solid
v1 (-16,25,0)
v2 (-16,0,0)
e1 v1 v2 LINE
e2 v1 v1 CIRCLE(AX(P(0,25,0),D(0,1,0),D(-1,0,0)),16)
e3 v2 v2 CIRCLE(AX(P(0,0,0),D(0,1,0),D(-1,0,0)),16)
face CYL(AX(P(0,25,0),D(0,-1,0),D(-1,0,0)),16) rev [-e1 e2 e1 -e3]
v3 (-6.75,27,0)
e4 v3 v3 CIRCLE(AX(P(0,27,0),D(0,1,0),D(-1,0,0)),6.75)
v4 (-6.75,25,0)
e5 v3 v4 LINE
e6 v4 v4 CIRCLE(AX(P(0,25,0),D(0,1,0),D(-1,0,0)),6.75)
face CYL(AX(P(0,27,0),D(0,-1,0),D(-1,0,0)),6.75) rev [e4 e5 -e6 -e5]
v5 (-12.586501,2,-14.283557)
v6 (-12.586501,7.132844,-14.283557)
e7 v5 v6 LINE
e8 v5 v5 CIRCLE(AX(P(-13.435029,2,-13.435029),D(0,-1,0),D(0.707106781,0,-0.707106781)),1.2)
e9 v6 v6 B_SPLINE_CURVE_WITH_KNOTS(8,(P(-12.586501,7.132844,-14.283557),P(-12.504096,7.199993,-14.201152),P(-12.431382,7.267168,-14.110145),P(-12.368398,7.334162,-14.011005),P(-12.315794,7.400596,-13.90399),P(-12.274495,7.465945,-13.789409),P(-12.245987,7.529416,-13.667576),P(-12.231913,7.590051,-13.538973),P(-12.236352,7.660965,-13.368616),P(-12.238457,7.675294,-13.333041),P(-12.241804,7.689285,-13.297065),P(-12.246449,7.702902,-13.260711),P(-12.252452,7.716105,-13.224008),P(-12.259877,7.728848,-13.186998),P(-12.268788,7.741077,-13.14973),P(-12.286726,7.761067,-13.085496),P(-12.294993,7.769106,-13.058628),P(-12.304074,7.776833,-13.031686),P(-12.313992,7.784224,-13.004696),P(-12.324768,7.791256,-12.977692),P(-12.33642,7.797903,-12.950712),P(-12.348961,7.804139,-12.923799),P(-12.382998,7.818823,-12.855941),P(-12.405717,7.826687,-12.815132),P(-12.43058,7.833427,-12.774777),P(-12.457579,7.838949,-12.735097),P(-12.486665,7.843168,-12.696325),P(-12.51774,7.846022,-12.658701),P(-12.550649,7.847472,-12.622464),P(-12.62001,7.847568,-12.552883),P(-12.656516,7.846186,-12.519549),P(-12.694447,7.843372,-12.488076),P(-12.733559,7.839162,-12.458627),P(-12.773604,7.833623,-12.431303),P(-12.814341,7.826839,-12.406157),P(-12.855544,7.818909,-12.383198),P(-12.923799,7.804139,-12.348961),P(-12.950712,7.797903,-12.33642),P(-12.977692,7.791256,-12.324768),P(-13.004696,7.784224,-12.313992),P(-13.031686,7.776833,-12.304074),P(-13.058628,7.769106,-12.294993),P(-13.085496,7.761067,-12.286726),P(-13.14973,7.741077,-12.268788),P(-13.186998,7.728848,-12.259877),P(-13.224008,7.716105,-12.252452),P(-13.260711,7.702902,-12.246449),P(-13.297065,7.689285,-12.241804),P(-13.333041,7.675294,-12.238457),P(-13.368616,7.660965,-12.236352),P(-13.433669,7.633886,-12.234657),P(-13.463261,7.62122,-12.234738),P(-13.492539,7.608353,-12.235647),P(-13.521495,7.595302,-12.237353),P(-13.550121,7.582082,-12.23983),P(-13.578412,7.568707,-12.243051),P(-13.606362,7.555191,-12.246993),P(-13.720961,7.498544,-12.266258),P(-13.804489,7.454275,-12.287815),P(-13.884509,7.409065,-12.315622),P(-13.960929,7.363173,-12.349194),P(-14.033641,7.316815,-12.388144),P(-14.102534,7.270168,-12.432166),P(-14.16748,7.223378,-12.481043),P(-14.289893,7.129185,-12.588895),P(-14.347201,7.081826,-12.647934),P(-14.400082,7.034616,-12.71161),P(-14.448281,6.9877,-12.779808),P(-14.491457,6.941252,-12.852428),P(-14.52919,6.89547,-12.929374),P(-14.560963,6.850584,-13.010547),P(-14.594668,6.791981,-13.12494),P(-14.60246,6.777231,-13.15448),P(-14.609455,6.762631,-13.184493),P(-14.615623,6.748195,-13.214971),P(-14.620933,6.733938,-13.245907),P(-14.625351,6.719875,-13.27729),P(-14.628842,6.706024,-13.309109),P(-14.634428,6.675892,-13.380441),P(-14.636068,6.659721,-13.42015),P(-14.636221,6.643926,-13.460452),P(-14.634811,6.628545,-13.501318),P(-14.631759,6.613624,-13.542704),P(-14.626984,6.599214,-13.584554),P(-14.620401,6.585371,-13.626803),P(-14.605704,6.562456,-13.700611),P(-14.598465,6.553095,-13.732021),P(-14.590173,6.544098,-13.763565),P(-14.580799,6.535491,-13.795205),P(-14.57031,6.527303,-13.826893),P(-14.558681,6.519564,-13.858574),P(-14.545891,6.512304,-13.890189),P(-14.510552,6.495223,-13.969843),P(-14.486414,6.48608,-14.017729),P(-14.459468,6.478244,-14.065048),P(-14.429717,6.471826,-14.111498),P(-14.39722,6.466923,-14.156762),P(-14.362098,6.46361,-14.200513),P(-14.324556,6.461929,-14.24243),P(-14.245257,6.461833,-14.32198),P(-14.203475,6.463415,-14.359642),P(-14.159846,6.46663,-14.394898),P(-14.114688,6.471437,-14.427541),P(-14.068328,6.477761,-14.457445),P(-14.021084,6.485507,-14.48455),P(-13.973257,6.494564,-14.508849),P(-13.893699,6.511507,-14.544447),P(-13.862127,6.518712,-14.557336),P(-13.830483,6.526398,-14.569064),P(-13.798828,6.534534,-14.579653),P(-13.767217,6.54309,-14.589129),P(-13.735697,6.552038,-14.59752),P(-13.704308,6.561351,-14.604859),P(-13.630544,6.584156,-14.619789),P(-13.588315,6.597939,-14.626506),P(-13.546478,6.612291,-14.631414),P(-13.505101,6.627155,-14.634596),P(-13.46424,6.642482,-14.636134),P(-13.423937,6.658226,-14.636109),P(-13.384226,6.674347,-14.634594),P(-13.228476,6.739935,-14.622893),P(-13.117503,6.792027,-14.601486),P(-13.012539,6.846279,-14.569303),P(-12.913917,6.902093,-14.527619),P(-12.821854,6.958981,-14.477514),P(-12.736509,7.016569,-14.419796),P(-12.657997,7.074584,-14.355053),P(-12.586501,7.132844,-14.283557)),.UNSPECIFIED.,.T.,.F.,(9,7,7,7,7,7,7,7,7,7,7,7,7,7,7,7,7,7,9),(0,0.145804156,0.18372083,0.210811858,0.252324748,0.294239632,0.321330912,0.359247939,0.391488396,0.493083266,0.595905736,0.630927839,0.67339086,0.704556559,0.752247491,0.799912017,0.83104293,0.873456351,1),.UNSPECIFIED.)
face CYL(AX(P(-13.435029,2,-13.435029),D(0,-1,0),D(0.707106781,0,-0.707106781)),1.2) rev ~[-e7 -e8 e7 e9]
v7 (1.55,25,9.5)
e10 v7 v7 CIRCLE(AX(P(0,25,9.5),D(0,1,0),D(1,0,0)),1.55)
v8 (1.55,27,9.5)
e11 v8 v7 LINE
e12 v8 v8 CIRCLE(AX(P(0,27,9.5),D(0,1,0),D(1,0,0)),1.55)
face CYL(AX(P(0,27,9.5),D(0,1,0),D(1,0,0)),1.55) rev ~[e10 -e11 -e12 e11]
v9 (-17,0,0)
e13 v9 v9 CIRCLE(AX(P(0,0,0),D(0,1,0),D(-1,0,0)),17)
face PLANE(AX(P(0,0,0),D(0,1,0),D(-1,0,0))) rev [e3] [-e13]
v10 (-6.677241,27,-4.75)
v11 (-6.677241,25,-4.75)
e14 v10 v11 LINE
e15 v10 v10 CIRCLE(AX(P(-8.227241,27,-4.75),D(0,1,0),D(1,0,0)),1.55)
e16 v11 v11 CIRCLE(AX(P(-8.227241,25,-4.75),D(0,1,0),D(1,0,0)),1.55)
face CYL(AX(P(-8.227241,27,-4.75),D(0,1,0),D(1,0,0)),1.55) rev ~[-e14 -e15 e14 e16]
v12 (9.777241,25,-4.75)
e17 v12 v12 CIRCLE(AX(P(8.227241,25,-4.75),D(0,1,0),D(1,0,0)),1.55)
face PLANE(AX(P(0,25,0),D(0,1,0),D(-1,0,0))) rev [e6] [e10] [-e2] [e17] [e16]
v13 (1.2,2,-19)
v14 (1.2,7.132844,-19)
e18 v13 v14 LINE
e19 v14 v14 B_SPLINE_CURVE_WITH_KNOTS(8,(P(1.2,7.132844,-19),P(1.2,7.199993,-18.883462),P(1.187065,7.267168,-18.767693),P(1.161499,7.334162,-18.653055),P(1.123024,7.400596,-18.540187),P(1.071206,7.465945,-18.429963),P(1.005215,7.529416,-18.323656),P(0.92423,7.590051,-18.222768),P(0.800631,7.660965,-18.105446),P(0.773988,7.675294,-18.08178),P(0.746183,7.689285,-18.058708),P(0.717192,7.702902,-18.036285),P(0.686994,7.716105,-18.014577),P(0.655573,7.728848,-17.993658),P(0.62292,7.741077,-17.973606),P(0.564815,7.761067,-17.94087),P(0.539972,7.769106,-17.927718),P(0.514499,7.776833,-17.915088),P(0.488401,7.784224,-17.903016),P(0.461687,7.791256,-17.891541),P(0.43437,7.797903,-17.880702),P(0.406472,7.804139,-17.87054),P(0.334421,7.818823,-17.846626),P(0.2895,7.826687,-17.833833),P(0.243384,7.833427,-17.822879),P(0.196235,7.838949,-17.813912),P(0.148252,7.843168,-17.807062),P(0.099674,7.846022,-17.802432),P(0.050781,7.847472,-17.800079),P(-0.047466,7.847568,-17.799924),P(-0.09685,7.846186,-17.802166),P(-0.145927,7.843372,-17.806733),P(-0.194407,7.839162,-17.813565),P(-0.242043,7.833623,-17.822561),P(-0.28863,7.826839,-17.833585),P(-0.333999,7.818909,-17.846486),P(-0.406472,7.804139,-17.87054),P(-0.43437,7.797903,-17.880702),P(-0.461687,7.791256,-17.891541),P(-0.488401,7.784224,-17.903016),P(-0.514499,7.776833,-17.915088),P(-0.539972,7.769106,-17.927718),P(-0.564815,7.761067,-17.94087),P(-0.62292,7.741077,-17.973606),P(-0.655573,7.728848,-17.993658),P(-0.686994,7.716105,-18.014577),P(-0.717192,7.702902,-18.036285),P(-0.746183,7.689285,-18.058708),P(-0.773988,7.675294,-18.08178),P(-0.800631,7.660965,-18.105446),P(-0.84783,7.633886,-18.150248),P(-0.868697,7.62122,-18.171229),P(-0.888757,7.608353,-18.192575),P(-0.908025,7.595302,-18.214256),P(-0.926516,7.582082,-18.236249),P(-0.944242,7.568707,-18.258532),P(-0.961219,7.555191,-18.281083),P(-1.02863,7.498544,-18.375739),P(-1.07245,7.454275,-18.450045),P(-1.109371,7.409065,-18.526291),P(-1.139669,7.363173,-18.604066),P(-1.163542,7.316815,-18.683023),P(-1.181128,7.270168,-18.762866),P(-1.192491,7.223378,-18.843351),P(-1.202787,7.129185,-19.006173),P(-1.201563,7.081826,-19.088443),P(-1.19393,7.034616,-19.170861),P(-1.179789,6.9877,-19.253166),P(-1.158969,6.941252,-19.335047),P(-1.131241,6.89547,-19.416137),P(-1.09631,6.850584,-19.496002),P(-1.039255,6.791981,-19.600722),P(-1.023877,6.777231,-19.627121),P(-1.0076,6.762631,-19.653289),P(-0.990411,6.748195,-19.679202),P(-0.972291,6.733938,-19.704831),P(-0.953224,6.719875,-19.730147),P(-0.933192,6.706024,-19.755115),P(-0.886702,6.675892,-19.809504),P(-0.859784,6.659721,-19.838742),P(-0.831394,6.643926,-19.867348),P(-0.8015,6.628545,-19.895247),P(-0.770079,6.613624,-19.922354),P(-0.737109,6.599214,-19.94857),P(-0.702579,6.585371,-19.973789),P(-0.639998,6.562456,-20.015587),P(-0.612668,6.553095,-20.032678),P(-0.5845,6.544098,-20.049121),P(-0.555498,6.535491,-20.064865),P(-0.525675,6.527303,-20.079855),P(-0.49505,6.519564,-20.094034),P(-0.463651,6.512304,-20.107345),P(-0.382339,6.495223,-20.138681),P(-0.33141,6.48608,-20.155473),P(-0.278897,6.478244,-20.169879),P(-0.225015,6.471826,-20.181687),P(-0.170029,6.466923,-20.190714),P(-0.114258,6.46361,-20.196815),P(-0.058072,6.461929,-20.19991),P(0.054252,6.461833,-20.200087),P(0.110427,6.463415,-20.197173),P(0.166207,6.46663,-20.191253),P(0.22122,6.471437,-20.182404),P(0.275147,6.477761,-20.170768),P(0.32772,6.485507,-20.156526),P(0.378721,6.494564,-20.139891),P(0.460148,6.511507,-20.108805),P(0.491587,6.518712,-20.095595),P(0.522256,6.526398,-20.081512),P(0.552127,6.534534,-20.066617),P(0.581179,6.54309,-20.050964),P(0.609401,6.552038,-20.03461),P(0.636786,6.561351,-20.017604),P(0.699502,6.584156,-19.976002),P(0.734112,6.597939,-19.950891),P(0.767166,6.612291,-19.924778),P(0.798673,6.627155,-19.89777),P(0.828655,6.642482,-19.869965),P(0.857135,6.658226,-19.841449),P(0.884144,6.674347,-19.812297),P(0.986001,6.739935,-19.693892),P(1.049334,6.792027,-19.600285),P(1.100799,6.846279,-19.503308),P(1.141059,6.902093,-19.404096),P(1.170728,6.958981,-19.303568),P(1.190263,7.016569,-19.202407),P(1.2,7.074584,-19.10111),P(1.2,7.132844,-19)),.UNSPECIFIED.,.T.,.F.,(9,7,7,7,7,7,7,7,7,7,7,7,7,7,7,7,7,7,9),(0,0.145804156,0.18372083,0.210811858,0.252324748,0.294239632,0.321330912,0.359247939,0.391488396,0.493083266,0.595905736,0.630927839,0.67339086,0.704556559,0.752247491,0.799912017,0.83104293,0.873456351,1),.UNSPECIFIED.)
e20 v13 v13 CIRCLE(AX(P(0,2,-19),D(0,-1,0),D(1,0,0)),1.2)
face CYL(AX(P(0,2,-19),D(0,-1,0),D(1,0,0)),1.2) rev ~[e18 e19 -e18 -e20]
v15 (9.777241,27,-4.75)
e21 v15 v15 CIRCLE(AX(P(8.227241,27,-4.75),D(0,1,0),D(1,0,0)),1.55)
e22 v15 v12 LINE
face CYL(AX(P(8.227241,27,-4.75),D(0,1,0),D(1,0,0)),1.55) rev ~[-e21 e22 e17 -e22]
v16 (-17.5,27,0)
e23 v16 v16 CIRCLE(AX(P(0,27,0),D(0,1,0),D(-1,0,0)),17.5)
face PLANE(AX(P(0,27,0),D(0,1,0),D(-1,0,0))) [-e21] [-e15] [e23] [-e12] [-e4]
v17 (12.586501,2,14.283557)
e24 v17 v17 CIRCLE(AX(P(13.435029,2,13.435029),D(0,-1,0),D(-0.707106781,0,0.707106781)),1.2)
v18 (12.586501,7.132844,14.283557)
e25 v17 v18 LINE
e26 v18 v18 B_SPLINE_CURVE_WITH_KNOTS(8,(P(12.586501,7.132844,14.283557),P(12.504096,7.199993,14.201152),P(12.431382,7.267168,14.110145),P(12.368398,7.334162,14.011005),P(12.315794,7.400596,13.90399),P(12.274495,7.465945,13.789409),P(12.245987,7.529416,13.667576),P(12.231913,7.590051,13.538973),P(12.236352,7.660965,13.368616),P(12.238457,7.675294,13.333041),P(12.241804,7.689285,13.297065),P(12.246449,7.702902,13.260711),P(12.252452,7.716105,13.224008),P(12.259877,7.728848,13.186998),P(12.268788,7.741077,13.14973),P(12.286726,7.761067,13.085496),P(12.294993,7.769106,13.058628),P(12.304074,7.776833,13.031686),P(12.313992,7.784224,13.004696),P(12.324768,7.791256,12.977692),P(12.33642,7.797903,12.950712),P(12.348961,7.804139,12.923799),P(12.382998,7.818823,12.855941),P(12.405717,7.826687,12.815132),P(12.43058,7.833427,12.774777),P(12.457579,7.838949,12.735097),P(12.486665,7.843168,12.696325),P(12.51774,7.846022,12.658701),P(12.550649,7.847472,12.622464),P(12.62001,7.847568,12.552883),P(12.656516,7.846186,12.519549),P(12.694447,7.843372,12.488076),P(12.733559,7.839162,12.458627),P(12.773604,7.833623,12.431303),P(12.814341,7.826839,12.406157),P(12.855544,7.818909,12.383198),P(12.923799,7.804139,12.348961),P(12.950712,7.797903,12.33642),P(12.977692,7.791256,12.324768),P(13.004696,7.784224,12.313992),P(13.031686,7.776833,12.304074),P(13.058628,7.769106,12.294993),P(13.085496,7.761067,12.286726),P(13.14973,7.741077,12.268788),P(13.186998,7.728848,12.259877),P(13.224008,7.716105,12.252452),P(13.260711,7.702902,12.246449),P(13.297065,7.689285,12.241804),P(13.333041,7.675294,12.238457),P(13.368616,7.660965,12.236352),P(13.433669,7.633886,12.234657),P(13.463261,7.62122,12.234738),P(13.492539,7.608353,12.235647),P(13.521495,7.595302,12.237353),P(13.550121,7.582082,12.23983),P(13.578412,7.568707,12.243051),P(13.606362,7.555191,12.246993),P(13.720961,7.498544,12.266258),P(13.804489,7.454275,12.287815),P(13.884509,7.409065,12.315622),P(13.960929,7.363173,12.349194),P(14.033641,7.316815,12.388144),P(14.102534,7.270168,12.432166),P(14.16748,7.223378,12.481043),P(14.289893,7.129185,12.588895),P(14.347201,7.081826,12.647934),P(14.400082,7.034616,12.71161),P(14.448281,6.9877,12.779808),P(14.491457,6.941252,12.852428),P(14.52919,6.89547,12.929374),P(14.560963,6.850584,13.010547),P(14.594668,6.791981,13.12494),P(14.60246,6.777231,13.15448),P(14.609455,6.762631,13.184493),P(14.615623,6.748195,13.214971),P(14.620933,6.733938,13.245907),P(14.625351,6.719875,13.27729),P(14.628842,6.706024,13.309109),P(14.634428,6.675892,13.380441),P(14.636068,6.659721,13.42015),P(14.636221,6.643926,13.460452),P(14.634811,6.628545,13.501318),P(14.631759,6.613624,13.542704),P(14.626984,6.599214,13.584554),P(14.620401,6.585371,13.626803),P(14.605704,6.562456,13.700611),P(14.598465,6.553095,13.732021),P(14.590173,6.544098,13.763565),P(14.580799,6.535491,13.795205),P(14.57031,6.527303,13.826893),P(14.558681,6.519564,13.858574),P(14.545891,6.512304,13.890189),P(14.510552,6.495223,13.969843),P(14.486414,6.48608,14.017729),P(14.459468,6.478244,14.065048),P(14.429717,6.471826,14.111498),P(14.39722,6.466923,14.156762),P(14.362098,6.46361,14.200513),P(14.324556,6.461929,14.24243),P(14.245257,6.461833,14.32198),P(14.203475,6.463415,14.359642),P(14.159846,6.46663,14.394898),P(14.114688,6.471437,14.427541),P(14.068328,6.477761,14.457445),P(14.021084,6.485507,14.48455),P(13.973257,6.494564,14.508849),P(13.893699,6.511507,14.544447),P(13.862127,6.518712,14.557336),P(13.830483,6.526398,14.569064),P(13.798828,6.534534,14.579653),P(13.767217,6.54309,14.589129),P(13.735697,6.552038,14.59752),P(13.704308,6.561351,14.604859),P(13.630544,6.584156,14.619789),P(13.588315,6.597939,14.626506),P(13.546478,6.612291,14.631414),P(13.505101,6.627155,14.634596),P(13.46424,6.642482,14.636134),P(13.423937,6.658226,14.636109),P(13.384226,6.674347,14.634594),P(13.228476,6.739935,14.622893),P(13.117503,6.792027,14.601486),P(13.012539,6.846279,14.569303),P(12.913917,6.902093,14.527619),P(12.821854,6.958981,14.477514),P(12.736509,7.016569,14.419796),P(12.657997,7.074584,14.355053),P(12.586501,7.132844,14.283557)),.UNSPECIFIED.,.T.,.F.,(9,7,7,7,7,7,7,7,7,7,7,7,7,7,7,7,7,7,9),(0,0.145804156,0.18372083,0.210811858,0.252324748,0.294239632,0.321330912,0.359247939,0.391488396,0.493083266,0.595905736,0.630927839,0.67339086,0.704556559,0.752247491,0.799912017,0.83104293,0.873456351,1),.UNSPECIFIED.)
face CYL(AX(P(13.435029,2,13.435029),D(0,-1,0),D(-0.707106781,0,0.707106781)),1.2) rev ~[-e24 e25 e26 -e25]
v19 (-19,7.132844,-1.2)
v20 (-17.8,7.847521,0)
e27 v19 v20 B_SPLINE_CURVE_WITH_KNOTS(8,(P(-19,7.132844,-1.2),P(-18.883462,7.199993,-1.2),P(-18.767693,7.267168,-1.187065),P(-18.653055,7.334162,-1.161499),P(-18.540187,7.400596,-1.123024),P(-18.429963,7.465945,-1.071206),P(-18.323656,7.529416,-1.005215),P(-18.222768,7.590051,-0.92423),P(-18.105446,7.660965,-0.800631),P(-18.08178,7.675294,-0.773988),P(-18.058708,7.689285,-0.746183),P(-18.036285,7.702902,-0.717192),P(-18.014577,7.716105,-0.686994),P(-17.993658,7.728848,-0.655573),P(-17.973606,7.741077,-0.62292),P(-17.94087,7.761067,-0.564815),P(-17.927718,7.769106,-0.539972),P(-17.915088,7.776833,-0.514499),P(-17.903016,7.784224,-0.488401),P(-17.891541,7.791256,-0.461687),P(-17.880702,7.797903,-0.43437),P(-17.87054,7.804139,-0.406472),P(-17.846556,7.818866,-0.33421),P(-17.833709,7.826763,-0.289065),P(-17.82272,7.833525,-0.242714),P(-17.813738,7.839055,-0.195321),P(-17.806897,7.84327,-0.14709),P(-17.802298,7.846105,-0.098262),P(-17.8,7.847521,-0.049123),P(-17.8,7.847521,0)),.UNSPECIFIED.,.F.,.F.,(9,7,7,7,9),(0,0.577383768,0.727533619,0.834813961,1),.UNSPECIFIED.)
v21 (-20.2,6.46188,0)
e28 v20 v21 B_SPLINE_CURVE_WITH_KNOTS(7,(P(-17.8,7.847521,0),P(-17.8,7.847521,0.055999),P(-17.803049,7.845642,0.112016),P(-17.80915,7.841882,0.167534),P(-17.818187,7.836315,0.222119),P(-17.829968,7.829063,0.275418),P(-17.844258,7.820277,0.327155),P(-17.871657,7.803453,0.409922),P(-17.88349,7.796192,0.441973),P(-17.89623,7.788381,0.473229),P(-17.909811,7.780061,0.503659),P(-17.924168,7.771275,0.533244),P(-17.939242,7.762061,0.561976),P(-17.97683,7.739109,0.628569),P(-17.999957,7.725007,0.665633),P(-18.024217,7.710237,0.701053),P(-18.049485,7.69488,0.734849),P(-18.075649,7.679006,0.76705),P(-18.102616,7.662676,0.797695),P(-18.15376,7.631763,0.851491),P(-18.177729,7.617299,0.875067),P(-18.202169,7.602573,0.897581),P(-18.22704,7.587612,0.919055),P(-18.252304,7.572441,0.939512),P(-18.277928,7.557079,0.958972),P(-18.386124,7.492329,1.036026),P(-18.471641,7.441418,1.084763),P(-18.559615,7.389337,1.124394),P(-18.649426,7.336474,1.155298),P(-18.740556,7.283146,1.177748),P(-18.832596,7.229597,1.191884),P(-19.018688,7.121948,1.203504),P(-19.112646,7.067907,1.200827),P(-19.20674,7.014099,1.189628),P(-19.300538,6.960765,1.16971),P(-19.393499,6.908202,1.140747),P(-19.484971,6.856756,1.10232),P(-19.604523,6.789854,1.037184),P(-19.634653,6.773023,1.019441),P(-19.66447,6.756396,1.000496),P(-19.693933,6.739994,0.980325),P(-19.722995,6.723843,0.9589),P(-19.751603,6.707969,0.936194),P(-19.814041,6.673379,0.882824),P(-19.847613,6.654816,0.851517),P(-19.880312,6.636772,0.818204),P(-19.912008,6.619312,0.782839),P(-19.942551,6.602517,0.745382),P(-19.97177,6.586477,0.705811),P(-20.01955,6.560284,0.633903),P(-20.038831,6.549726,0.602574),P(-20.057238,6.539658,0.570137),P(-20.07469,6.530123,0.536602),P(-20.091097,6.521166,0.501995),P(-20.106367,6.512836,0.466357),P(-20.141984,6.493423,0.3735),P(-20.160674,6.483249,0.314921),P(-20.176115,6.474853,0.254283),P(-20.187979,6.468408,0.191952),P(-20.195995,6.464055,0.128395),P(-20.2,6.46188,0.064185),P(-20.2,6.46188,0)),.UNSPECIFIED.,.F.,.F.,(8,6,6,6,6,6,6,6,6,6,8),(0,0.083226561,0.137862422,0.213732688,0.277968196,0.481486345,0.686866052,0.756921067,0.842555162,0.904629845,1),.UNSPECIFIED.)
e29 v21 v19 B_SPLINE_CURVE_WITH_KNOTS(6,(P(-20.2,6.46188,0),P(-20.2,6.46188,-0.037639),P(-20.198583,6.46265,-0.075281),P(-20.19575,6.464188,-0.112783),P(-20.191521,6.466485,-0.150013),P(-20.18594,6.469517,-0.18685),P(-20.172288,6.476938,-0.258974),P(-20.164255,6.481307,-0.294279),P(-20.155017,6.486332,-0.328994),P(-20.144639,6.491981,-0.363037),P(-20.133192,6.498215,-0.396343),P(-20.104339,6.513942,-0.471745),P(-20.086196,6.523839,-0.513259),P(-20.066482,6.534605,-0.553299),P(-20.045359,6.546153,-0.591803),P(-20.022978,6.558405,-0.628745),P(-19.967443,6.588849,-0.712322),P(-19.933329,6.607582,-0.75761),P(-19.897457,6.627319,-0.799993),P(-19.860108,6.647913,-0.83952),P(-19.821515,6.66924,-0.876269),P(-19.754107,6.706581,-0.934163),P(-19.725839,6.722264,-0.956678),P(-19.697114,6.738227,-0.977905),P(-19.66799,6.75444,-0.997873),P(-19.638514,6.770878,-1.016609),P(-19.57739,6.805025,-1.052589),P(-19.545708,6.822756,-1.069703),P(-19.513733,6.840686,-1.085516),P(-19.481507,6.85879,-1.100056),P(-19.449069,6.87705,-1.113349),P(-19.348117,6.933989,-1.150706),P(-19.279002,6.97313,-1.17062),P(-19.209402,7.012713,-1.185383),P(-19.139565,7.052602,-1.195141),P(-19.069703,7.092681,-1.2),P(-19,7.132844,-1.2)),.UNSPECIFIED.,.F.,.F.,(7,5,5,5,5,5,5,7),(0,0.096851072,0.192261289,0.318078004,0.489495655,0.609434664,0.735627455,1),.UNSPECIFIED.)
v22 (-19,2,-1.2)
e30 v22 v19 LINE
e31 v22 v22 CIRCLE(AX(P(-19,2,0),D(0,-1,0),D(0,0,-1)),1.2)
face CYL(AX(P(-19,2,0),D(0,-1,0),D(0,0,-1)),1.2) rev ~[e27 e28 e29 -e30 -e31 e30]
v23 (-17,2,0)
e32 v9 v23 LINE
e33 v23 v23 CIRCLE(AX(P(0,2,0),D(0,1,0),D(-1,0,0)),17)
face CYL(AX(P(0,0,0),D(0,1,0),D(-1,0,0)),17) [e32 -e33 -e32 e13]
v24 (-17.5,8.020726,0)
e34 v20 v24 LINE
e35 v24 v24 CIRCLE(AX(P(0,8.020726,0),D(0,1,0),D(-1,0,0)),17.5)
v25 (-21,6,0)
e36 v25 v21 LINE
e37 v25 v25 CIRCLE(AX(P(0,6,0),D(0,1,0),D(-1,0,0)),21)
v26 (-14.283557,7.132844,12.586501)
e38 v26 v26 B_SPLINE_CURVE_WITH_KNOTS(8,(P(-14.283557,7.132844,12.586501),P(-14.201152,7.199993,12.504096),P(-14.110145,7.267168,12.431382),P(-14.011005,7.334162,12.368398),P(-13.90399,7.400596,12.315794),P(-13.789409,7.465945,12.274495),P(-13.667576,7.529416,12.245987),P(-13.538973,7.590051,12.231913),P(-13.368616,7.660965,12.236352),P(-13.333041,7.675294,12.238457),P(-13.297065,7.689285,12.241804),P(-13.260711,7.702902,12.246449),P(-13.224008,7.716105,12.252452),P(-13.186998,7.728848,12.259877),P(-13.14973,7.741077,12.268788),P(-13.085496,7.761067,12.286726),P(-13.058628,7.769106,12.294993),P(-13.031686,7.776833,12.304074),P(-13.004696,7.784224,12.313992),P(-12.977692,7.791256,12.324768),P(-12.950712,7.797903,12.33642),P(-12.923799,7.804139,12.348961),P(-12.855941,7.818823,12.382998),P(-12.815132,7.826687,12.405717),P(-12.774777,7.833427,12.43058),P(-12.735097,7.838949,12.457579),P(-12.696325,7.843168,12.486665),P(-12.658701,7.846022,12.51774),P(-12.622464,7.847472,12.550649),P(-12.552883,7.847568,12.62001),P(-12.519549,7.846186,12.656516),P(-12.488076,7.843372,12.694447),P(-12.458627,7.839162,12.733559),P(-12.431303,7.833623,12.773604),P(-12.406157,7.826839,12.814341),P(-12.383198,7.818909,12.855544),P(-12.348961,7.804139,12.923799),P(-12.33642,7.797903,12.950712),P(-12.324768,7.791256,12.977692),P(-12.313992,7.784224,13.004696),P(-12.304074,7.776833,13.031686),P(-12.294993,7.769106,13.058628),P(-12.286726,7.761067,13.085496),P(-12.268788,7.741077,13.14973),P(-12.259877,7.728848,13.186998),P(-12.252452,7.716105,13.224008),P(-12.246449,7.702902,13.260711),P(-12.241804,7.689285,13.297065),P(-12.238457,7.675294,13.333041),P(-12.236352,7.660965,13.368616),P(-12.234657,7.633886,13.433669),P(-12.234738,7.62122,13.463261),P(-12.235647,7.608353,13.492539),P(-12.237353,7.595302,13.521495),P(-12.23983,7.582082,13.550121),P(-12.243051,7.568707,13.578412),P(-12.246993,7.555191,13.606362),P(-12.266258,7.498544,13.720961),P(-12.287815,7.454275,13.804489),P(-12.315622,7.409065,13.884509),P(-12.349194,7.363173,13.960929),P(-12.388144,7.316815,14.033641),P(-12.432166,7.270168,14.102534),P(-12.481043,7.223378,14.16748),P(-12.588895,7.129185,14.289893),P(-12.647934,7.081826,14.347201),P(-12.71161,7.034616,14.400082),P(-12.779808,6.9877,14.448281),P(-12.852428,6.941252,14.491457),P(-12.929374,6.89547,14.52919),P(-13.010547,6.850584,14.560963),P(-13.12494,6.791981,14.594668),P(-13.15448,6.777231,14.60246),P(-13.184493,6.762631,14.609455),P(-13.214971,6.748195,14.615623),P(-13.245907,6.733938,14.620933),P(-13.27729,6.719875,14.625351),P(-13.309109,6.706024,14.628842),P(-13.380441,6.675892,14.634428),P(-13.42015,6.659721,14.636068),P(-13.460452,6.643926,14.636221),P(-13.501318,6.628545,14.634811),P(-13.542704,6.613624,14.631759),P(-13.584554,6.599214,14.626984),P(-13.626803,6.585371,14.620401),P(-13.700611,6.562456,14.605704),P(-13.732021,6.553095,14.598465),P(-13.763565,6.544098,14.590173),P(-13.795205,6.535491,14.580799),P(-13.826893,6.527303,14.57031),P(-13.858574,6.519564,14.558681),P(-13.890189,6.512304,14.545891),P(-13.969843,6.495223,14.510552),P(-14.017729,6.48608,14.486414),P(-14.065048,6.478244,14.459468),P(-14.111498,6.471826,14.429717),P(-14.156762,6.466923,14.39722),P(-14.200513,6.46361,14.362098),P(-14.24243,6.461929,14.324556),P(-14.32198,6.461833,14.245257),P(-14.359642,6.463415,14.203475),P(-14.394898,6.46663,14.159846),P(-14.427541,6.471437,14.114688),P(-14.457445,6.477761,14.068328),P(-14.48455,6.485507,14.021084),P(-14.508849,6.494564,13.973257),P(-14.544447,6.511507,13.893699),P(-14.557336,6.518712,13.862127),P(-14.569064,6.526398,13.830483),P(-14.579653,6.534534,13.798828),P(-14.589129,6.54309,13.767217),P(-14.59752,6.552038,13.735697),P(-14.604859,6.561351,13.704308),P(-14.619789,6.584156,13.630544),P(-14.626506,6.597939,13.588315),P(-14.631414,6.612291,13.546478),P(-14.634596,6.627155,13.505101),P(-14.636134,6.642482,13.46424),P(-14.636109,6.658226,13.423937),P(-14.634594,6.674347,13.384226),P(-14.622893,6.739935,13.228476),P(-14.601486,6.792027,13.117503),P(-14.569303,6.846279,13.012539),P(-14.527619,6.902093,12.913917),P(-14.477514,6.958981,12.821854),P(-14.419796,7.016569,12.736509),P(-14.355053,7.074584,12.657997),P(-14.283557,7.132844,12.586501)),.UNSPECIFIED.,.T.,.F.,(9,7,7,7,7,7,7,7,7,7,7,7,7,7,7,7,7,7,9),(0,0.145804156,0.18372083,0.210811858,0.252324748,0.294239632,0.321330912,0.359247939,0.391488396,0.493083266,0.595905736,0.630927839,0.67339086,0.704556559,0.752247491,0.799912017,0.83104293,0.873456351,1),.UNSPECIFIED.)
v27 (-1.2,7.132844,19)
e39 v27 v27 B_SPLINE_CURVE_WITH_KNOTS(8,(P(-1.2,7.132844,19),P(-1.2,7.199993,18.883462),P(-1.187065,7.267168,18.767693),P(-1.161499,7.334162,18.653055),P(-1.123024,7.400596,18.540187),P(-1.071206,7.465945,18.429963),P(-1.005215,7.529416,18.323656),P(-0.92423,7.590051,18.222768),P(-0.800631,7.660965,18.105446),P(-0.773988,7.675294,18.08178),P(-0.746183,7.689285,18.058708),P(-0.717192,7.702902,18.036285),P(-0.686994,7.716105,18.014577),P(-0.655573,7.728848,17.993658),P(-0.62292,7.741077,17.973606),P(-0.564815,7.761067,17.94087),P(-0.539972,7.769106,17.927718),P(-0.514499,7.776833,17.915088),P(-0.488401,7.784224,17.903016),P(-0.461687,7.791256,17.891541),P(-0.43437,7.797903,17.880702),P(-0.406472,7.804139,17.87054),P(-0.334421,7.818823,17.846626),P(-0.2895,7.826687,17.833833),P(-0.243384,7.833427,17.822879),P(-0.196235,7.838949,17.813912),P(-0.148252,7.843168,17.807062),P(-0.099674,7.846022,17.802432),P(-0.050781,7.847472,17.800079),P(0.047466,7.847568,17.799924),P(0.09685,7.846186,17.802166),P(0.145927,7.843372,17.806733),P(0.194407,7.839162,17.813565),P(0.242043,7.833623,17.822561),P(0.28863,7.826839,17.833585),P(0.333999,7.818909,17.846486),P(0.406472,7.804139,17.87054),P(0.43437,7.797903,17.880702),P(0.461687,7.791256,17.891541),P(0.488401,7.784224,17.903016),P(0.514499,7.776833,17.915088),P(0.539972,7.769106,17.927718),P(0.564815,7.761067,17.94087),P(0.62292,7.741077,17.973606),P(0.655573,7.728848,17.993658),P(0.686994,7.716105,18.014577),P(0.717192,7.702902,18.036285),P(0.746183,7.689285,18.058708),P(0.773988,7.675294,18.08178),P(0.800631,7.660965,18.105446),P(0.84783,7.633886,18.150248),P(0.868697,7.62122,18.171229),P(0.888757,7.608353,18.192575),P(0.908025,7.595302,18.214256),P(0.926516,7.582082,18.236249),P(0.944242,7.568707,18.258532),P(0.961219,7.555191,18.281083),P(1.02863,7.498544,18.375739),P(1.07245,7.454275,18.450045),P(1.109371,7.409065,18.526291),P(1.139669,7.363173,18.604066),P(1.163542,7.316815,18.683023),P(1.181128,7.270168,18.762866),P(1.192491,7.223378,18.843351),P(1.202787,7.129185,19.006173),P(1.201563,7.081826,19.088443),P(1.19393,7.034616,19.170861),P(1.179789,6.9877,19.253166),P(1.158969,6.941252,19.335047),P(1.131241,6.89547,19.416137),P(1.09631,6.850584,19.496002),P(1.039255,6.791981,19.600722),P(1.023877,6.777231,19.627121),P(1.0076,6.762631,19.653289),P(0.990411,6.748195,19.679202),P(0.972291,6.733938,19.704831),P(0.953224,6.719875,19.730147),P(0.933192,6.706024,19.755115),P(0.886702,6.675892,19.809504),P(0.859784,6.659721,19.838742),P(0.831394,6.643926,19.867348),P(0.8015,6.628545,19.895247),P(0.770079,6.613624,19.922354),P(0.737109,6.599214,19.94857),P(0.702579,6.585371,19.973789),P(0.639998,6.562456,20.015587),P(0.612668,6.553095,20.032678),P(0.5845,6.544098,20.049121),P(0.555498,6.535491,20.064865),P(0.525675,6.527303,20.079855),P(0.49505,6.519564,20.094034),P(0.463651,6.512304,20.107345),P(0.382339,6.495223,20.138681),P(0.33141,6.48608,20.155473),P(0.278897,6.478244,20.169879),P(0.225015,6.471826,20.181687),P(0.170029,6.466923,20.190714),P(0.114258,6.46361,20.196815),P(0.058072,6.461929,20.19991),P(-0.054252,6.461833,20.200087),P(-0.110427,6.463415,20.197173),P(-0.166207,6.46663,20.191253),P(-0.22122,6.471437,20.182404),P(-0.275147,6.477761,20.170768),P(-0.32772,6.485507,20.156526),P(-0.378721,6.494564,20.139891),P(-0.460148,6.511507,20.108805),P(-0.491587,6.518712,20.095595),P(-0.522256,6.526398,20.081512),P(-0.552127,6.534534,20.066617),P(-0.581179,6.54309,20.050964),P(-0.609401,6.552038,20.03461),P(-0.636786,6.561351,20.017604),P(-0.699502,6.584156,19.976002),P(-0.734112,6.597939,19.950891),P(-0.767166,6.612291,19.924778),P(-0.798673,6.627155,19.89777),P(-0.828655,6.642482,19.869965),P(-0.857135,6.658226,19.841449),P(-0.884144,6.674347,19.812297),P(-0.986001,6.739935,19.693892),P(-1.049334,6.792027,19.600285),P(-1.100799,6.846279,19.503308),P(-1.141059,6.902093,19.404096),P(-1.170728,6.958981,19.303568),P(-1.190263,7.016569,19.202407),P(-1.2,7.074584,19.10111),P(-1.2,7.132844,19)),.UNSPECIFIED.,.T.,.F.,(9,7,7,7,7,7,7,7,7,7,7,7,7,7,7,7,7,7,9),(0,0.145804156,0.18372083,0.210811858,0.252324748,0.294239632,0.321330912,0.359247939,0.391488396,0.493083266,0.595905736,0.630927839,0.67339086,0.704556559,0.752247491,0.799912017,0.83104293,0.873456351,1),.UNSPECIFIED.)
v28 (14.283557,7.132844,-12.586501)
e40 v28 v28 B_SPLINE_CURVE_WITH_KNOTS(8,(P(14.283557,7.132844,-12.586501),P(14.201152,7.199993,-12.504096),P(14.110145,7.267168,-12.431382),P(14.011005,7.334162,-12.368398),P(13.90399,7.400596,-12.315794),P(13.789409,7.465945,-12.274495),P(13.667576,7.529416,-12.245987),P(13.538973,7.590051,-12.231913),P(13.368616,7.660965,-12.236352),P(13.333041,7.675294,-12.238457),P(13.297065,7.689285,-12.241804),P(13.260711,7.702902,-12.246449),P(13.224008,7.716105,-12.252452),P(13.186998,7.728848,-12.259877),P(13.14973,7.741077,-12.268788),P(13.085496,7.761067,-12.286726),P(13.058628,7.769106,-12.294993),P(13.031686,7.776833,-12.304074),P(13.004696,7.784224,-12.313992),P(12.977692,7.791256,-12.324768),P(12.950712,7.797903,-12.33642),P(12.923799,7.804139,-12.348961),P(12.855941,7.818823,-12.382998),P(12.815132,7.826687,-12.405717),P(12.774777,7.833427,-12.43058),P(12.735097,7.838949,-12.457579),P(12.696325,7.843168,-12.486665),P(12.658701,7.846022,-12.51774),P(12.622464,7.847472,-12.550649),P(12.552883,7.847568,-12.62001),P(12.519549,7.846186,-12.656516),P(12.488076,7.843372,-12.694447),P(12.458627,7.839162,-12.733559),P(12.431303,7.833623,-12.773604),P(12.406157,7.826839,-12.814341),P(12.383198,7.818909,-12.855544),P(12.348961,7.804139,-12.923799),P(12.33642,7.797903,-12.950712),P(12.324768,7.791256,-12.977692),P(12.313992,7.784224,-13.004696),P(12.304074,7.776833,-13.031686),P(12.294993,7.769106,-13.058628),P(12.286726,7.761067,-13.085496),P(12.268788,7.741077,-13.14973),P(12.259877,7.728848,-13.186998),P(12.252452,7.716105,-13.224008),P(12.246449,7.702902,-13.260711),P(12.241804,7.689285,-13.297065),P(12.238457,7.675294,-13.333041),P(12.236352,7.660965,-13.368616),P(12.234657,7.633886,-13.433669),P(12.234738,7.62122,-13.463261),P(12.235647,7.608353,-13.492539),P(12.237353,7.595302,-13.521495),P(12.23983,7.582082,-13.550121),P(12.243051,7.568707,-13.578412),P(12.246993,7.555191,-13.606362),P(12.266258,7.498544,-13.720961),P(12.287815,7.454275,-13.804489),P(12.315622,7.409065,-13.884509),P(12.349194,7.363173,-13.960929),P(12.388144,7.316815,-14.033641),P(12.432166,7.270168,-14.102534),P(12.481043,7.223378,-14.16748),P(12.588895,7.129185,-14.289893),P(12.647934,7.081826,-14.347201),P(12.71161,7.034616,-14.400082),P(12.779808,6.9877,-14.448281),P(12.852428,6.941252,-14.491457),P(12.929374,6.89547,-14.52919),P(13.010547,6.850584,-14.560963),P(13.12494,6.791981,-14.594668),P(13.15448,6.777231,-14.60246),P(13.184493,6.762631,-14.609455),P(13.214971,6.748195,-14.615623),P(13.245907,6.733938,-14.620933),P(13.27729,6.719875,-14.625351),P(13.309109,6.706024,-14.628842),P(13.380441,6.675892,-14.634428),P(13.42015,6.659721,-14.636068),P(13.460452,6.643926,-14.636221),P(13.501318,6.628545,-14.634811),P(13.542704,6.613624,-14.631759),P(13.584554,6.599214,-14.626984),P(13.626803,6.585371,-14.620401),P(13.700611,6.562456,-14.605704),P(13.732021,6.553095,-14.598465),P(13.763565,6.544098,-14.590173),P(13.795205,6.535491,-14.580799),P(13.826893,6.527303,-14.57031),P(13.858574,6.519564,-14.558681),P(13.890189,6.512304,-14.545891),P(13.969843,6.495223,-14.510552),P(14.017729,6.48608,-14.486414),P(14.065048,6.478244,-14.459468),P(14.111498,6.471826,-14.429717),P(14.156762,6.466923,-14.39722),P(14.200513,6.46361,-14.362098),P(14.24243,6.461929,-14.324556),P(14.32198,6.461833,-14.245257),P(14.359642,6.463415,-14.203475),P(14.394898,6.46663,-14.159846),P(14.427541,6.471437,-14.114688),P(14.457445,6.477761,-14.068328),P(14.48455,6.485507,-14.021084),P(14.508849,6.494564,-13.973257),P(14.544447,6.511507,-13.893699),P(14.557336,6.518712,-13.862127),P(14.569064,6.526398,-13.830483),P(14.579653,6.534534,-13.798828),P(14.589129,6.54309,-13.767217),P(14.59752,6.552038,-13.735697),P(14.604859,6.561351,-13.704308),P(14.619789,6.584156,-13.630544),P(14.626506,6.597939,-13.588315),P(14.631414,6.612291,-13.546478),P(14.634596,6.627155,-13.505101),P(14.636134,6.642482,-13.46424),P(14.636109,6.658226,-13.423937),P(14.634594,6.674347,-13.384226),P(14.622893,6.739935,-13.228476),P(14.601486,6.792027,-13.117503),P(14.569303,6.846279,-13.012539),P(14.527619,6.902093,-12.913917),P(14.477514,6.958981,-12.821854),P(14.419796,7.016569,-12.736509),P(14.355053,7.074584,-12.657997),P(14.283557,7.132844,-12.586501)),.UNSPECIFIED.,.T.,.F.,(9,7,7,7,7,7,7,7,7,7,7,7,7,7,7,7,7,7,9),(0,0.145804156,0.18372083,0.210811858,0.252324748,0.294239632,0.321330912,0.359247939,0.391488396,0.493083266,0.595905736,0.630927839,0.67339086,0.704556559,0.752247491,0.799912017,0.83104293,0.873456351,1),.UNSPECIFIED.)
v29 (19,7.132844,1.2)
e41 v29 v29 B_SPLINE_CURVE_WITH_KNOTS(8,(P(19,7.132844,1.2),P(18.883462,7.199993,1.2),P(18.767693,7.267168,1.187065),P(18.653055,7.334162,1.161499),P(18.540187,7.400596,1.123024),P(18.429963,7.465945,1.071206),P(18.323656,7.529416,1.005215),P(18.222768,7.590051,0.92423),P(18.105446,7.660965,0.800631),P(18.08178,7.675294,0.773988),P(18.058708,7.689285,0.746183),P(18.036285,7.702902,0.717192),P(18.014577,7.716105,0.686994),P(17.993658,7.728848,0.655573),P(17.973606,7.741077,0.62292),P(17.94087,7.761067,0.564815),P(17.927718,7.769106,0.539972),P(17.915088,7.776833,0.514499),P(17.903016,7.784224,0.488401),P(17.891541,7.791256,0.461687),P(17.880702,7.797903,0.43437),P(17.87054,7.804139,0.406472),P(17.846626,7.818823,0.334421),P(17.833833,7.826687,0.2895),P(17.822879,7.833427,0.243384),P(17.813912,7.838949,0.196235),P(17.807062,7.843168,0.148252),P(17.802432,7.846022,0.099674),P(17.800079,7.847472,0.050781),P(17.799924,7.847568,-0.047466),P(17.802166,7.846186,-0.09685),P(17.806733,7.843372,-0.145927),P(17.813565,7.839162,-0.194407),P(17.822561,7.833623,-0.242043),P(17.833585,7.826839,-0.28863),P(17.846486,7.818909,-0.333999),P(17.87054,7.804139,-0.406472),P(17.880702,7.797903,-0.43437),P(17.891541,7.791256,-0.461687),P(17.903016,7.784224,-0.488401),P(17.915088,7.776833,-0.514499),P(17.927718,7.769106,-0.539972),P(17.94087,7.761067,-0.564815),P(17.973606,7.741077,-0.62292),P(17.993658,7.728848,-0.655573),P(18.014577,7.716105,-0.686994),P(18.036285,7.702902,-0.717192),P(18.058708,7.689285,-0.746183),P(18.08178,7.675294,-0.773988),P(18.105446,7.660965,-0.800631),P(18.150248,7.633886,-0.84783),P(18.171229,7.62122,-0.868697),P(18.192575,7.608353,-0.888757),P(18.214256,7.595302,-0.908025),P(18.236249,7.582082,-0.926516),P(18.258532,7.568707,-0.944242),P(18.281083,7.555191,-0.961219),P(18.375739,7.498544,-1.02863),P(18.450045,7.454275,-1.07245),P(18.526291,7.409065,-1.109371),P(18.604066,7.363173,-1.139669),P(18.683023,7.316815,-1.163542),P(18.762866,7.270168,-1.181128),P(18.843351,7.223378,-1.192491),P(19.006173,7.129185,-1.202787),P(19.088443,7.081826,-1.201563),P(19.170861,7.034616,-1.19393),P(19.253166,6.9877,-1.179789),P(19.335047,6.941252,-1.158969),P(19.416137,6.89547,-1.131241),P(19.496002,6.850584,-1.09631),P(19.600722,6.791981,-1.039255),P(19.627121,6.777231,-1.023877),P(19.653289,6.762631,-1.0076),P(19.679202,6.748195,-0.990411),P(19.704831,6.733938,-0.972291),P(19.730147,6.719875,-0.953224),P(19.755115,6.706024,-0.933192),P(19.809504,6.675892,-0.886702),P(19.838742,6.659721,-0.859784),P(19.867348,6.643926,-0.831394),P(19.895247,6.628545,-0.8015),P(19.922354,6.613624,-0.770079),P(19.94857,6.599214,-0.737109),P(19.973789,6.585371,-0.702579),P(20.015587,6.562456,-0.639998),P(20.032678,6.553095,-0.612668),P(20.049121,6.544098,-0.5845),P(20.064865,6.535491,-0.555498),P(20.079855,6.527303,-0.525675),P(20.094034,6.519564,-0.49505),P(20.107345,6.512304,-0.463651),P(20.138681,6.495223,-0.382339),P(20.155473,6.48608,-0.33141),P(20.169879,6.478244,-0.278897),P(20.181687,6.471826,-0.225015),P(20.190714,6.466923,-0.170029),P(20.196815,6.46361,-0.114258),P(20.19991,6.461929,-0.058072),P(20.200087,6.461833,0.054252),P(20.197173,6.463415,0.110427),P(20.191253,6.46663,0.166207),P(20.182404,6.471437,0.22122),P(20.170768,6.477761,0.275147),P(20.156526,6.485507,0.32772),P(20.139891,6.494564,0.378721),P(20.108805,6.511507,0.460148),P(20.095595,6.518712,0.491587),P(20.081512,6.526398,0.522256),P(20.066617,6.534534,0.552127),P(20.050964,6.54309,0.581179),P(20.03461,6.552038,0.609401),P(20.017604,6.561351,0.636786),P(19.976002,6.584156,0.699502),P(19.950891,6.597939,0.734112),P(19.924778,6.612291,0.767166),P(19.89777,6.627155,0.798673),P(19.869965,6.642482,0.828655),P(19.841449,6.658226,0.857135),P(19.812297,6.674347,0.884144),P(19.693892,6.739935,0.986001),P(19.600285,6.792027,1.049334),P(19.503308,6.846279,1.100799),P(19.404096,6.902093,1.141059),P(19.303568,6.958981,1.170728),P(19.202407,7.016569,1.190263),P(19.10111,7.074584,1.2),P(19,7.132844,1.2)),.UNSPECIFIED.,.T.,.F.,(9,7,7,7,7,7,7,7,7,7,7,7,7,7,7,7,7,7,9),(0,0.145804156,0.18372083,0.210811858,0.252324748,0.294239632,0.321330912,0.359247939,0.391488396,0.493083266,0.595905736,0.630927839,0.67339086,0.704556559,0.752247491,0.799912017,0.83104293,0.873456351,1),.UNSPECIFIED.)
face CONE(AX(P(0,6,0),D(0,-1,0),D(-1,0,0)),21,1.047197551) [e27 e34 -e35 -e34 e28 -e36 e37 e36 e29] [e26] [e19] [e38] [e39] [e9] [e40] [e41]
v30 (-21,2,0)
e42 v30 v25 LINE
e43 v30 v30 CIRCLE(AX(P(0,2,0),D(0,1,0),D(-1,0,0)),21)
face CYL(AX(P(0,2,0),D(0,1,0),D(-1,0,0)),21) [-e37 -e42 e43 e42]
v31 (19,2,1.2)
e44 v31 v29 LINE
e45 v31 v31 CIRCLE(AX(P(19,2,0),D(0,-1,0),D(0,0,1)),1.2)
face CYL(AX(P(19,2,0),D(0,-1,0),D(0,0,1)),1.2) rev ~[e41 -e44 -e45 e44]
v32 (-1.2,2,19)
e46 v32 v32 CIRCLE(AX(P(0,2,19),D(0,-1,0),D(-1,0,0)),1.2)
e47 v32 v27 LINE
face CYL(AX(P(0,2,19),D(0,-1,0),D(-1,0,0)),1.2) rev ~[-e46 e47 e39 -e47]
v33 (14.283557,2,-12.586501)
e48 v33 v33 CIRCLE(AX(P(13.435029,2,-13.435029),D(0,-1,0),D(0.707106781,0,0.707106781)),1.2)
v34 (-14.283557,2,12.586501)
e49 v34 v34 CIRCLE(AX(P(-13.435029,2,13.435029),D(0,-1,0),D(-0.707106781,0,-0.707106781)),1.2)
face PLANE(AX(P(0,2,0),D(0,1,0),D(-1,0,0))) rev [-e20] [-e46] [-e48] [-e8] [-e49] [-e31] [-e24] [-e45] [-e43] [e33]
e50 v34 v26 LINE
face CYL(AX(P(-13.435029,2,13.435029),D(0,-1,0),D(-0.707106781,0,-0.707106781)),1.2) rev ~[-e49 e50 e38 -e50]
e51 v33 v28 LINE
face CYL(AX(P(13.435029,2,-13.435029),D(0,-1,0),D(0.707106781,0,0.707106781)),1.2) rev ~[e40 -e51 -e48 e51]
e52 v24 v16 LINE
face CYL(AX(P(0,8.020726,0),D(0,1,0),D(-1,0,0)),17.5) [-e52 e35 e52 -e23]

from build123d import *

# Parameters (mm, degrees)
SKETCH_2_R               = 1.2
CUT_EXTRUDE_1_DEPTH      = 8
PATTERN_CIRCULAR_1_COUNT = 8
SKETCH_3_R               = 1.55
CUT_EXTRUDE_2_DEPTH      = 10


with BuildPart() as part:
    # 草图1 → 旋转1 (revolve)
    with BuildSketch(Plane.XY):
        Polygon((-16, 0), (-17, 0), (-17, 2), (-21, 2), (-21, 6), (-17.5, 8.020725942), (-17.5, 27), (-6.75, 27), (-6.75, 25), (-16, 25), align=None)
    revolve(axis=Axis((0, 0, 0), (0, 1, 0)))

    # 草图2 → 切除-拉伸1 (cut)
    with BuildSketch(Plane.XZ.offset(-2)):
        with Locations((0, -19)):
            Circle(SKETCH_2_R)
    cut_extrude_1 = extrude(amount=-CUT_EXTRUDE_1_DEPTH, mode=Mode.SUBTRACT)

    # 阵列(圆周)1: 切除-拉伸1 ×8 about axis
    pattern_circular_1_axis = Axis((0, 0, 0), (0, 1, 0))
    for i in range(1, PATTERN_CIRCULAR_1_COUNT):
        add(cut_extrude_1.rotate(pattern_circular_1_axis, i * 360 / PATTERN_CIRCULAR_1_COUNT), mode=Mode.SUBTRACT)

    # 草图3 → 切除-拉伸2 (cut)
    with BuildSketch(Plane(origin=(0, 27, 0), x_dir=(1, 0, 0), z_dir=(0, 1, 0))):
        with Locations((0, -9.5)):
            Circle(SKETCH_3_R)
        with Locations((-8.227241336, 4.75)):
            Circle(SKETCH_3_R)
        with Locations((8.227241336, 4.75)):
            Circle(SKETCH_3_R)
    extrude(amount=-CUT_EXTRUDE_2_DEPTH, mode=Mode.SUBTRACT)


solid = part.part
